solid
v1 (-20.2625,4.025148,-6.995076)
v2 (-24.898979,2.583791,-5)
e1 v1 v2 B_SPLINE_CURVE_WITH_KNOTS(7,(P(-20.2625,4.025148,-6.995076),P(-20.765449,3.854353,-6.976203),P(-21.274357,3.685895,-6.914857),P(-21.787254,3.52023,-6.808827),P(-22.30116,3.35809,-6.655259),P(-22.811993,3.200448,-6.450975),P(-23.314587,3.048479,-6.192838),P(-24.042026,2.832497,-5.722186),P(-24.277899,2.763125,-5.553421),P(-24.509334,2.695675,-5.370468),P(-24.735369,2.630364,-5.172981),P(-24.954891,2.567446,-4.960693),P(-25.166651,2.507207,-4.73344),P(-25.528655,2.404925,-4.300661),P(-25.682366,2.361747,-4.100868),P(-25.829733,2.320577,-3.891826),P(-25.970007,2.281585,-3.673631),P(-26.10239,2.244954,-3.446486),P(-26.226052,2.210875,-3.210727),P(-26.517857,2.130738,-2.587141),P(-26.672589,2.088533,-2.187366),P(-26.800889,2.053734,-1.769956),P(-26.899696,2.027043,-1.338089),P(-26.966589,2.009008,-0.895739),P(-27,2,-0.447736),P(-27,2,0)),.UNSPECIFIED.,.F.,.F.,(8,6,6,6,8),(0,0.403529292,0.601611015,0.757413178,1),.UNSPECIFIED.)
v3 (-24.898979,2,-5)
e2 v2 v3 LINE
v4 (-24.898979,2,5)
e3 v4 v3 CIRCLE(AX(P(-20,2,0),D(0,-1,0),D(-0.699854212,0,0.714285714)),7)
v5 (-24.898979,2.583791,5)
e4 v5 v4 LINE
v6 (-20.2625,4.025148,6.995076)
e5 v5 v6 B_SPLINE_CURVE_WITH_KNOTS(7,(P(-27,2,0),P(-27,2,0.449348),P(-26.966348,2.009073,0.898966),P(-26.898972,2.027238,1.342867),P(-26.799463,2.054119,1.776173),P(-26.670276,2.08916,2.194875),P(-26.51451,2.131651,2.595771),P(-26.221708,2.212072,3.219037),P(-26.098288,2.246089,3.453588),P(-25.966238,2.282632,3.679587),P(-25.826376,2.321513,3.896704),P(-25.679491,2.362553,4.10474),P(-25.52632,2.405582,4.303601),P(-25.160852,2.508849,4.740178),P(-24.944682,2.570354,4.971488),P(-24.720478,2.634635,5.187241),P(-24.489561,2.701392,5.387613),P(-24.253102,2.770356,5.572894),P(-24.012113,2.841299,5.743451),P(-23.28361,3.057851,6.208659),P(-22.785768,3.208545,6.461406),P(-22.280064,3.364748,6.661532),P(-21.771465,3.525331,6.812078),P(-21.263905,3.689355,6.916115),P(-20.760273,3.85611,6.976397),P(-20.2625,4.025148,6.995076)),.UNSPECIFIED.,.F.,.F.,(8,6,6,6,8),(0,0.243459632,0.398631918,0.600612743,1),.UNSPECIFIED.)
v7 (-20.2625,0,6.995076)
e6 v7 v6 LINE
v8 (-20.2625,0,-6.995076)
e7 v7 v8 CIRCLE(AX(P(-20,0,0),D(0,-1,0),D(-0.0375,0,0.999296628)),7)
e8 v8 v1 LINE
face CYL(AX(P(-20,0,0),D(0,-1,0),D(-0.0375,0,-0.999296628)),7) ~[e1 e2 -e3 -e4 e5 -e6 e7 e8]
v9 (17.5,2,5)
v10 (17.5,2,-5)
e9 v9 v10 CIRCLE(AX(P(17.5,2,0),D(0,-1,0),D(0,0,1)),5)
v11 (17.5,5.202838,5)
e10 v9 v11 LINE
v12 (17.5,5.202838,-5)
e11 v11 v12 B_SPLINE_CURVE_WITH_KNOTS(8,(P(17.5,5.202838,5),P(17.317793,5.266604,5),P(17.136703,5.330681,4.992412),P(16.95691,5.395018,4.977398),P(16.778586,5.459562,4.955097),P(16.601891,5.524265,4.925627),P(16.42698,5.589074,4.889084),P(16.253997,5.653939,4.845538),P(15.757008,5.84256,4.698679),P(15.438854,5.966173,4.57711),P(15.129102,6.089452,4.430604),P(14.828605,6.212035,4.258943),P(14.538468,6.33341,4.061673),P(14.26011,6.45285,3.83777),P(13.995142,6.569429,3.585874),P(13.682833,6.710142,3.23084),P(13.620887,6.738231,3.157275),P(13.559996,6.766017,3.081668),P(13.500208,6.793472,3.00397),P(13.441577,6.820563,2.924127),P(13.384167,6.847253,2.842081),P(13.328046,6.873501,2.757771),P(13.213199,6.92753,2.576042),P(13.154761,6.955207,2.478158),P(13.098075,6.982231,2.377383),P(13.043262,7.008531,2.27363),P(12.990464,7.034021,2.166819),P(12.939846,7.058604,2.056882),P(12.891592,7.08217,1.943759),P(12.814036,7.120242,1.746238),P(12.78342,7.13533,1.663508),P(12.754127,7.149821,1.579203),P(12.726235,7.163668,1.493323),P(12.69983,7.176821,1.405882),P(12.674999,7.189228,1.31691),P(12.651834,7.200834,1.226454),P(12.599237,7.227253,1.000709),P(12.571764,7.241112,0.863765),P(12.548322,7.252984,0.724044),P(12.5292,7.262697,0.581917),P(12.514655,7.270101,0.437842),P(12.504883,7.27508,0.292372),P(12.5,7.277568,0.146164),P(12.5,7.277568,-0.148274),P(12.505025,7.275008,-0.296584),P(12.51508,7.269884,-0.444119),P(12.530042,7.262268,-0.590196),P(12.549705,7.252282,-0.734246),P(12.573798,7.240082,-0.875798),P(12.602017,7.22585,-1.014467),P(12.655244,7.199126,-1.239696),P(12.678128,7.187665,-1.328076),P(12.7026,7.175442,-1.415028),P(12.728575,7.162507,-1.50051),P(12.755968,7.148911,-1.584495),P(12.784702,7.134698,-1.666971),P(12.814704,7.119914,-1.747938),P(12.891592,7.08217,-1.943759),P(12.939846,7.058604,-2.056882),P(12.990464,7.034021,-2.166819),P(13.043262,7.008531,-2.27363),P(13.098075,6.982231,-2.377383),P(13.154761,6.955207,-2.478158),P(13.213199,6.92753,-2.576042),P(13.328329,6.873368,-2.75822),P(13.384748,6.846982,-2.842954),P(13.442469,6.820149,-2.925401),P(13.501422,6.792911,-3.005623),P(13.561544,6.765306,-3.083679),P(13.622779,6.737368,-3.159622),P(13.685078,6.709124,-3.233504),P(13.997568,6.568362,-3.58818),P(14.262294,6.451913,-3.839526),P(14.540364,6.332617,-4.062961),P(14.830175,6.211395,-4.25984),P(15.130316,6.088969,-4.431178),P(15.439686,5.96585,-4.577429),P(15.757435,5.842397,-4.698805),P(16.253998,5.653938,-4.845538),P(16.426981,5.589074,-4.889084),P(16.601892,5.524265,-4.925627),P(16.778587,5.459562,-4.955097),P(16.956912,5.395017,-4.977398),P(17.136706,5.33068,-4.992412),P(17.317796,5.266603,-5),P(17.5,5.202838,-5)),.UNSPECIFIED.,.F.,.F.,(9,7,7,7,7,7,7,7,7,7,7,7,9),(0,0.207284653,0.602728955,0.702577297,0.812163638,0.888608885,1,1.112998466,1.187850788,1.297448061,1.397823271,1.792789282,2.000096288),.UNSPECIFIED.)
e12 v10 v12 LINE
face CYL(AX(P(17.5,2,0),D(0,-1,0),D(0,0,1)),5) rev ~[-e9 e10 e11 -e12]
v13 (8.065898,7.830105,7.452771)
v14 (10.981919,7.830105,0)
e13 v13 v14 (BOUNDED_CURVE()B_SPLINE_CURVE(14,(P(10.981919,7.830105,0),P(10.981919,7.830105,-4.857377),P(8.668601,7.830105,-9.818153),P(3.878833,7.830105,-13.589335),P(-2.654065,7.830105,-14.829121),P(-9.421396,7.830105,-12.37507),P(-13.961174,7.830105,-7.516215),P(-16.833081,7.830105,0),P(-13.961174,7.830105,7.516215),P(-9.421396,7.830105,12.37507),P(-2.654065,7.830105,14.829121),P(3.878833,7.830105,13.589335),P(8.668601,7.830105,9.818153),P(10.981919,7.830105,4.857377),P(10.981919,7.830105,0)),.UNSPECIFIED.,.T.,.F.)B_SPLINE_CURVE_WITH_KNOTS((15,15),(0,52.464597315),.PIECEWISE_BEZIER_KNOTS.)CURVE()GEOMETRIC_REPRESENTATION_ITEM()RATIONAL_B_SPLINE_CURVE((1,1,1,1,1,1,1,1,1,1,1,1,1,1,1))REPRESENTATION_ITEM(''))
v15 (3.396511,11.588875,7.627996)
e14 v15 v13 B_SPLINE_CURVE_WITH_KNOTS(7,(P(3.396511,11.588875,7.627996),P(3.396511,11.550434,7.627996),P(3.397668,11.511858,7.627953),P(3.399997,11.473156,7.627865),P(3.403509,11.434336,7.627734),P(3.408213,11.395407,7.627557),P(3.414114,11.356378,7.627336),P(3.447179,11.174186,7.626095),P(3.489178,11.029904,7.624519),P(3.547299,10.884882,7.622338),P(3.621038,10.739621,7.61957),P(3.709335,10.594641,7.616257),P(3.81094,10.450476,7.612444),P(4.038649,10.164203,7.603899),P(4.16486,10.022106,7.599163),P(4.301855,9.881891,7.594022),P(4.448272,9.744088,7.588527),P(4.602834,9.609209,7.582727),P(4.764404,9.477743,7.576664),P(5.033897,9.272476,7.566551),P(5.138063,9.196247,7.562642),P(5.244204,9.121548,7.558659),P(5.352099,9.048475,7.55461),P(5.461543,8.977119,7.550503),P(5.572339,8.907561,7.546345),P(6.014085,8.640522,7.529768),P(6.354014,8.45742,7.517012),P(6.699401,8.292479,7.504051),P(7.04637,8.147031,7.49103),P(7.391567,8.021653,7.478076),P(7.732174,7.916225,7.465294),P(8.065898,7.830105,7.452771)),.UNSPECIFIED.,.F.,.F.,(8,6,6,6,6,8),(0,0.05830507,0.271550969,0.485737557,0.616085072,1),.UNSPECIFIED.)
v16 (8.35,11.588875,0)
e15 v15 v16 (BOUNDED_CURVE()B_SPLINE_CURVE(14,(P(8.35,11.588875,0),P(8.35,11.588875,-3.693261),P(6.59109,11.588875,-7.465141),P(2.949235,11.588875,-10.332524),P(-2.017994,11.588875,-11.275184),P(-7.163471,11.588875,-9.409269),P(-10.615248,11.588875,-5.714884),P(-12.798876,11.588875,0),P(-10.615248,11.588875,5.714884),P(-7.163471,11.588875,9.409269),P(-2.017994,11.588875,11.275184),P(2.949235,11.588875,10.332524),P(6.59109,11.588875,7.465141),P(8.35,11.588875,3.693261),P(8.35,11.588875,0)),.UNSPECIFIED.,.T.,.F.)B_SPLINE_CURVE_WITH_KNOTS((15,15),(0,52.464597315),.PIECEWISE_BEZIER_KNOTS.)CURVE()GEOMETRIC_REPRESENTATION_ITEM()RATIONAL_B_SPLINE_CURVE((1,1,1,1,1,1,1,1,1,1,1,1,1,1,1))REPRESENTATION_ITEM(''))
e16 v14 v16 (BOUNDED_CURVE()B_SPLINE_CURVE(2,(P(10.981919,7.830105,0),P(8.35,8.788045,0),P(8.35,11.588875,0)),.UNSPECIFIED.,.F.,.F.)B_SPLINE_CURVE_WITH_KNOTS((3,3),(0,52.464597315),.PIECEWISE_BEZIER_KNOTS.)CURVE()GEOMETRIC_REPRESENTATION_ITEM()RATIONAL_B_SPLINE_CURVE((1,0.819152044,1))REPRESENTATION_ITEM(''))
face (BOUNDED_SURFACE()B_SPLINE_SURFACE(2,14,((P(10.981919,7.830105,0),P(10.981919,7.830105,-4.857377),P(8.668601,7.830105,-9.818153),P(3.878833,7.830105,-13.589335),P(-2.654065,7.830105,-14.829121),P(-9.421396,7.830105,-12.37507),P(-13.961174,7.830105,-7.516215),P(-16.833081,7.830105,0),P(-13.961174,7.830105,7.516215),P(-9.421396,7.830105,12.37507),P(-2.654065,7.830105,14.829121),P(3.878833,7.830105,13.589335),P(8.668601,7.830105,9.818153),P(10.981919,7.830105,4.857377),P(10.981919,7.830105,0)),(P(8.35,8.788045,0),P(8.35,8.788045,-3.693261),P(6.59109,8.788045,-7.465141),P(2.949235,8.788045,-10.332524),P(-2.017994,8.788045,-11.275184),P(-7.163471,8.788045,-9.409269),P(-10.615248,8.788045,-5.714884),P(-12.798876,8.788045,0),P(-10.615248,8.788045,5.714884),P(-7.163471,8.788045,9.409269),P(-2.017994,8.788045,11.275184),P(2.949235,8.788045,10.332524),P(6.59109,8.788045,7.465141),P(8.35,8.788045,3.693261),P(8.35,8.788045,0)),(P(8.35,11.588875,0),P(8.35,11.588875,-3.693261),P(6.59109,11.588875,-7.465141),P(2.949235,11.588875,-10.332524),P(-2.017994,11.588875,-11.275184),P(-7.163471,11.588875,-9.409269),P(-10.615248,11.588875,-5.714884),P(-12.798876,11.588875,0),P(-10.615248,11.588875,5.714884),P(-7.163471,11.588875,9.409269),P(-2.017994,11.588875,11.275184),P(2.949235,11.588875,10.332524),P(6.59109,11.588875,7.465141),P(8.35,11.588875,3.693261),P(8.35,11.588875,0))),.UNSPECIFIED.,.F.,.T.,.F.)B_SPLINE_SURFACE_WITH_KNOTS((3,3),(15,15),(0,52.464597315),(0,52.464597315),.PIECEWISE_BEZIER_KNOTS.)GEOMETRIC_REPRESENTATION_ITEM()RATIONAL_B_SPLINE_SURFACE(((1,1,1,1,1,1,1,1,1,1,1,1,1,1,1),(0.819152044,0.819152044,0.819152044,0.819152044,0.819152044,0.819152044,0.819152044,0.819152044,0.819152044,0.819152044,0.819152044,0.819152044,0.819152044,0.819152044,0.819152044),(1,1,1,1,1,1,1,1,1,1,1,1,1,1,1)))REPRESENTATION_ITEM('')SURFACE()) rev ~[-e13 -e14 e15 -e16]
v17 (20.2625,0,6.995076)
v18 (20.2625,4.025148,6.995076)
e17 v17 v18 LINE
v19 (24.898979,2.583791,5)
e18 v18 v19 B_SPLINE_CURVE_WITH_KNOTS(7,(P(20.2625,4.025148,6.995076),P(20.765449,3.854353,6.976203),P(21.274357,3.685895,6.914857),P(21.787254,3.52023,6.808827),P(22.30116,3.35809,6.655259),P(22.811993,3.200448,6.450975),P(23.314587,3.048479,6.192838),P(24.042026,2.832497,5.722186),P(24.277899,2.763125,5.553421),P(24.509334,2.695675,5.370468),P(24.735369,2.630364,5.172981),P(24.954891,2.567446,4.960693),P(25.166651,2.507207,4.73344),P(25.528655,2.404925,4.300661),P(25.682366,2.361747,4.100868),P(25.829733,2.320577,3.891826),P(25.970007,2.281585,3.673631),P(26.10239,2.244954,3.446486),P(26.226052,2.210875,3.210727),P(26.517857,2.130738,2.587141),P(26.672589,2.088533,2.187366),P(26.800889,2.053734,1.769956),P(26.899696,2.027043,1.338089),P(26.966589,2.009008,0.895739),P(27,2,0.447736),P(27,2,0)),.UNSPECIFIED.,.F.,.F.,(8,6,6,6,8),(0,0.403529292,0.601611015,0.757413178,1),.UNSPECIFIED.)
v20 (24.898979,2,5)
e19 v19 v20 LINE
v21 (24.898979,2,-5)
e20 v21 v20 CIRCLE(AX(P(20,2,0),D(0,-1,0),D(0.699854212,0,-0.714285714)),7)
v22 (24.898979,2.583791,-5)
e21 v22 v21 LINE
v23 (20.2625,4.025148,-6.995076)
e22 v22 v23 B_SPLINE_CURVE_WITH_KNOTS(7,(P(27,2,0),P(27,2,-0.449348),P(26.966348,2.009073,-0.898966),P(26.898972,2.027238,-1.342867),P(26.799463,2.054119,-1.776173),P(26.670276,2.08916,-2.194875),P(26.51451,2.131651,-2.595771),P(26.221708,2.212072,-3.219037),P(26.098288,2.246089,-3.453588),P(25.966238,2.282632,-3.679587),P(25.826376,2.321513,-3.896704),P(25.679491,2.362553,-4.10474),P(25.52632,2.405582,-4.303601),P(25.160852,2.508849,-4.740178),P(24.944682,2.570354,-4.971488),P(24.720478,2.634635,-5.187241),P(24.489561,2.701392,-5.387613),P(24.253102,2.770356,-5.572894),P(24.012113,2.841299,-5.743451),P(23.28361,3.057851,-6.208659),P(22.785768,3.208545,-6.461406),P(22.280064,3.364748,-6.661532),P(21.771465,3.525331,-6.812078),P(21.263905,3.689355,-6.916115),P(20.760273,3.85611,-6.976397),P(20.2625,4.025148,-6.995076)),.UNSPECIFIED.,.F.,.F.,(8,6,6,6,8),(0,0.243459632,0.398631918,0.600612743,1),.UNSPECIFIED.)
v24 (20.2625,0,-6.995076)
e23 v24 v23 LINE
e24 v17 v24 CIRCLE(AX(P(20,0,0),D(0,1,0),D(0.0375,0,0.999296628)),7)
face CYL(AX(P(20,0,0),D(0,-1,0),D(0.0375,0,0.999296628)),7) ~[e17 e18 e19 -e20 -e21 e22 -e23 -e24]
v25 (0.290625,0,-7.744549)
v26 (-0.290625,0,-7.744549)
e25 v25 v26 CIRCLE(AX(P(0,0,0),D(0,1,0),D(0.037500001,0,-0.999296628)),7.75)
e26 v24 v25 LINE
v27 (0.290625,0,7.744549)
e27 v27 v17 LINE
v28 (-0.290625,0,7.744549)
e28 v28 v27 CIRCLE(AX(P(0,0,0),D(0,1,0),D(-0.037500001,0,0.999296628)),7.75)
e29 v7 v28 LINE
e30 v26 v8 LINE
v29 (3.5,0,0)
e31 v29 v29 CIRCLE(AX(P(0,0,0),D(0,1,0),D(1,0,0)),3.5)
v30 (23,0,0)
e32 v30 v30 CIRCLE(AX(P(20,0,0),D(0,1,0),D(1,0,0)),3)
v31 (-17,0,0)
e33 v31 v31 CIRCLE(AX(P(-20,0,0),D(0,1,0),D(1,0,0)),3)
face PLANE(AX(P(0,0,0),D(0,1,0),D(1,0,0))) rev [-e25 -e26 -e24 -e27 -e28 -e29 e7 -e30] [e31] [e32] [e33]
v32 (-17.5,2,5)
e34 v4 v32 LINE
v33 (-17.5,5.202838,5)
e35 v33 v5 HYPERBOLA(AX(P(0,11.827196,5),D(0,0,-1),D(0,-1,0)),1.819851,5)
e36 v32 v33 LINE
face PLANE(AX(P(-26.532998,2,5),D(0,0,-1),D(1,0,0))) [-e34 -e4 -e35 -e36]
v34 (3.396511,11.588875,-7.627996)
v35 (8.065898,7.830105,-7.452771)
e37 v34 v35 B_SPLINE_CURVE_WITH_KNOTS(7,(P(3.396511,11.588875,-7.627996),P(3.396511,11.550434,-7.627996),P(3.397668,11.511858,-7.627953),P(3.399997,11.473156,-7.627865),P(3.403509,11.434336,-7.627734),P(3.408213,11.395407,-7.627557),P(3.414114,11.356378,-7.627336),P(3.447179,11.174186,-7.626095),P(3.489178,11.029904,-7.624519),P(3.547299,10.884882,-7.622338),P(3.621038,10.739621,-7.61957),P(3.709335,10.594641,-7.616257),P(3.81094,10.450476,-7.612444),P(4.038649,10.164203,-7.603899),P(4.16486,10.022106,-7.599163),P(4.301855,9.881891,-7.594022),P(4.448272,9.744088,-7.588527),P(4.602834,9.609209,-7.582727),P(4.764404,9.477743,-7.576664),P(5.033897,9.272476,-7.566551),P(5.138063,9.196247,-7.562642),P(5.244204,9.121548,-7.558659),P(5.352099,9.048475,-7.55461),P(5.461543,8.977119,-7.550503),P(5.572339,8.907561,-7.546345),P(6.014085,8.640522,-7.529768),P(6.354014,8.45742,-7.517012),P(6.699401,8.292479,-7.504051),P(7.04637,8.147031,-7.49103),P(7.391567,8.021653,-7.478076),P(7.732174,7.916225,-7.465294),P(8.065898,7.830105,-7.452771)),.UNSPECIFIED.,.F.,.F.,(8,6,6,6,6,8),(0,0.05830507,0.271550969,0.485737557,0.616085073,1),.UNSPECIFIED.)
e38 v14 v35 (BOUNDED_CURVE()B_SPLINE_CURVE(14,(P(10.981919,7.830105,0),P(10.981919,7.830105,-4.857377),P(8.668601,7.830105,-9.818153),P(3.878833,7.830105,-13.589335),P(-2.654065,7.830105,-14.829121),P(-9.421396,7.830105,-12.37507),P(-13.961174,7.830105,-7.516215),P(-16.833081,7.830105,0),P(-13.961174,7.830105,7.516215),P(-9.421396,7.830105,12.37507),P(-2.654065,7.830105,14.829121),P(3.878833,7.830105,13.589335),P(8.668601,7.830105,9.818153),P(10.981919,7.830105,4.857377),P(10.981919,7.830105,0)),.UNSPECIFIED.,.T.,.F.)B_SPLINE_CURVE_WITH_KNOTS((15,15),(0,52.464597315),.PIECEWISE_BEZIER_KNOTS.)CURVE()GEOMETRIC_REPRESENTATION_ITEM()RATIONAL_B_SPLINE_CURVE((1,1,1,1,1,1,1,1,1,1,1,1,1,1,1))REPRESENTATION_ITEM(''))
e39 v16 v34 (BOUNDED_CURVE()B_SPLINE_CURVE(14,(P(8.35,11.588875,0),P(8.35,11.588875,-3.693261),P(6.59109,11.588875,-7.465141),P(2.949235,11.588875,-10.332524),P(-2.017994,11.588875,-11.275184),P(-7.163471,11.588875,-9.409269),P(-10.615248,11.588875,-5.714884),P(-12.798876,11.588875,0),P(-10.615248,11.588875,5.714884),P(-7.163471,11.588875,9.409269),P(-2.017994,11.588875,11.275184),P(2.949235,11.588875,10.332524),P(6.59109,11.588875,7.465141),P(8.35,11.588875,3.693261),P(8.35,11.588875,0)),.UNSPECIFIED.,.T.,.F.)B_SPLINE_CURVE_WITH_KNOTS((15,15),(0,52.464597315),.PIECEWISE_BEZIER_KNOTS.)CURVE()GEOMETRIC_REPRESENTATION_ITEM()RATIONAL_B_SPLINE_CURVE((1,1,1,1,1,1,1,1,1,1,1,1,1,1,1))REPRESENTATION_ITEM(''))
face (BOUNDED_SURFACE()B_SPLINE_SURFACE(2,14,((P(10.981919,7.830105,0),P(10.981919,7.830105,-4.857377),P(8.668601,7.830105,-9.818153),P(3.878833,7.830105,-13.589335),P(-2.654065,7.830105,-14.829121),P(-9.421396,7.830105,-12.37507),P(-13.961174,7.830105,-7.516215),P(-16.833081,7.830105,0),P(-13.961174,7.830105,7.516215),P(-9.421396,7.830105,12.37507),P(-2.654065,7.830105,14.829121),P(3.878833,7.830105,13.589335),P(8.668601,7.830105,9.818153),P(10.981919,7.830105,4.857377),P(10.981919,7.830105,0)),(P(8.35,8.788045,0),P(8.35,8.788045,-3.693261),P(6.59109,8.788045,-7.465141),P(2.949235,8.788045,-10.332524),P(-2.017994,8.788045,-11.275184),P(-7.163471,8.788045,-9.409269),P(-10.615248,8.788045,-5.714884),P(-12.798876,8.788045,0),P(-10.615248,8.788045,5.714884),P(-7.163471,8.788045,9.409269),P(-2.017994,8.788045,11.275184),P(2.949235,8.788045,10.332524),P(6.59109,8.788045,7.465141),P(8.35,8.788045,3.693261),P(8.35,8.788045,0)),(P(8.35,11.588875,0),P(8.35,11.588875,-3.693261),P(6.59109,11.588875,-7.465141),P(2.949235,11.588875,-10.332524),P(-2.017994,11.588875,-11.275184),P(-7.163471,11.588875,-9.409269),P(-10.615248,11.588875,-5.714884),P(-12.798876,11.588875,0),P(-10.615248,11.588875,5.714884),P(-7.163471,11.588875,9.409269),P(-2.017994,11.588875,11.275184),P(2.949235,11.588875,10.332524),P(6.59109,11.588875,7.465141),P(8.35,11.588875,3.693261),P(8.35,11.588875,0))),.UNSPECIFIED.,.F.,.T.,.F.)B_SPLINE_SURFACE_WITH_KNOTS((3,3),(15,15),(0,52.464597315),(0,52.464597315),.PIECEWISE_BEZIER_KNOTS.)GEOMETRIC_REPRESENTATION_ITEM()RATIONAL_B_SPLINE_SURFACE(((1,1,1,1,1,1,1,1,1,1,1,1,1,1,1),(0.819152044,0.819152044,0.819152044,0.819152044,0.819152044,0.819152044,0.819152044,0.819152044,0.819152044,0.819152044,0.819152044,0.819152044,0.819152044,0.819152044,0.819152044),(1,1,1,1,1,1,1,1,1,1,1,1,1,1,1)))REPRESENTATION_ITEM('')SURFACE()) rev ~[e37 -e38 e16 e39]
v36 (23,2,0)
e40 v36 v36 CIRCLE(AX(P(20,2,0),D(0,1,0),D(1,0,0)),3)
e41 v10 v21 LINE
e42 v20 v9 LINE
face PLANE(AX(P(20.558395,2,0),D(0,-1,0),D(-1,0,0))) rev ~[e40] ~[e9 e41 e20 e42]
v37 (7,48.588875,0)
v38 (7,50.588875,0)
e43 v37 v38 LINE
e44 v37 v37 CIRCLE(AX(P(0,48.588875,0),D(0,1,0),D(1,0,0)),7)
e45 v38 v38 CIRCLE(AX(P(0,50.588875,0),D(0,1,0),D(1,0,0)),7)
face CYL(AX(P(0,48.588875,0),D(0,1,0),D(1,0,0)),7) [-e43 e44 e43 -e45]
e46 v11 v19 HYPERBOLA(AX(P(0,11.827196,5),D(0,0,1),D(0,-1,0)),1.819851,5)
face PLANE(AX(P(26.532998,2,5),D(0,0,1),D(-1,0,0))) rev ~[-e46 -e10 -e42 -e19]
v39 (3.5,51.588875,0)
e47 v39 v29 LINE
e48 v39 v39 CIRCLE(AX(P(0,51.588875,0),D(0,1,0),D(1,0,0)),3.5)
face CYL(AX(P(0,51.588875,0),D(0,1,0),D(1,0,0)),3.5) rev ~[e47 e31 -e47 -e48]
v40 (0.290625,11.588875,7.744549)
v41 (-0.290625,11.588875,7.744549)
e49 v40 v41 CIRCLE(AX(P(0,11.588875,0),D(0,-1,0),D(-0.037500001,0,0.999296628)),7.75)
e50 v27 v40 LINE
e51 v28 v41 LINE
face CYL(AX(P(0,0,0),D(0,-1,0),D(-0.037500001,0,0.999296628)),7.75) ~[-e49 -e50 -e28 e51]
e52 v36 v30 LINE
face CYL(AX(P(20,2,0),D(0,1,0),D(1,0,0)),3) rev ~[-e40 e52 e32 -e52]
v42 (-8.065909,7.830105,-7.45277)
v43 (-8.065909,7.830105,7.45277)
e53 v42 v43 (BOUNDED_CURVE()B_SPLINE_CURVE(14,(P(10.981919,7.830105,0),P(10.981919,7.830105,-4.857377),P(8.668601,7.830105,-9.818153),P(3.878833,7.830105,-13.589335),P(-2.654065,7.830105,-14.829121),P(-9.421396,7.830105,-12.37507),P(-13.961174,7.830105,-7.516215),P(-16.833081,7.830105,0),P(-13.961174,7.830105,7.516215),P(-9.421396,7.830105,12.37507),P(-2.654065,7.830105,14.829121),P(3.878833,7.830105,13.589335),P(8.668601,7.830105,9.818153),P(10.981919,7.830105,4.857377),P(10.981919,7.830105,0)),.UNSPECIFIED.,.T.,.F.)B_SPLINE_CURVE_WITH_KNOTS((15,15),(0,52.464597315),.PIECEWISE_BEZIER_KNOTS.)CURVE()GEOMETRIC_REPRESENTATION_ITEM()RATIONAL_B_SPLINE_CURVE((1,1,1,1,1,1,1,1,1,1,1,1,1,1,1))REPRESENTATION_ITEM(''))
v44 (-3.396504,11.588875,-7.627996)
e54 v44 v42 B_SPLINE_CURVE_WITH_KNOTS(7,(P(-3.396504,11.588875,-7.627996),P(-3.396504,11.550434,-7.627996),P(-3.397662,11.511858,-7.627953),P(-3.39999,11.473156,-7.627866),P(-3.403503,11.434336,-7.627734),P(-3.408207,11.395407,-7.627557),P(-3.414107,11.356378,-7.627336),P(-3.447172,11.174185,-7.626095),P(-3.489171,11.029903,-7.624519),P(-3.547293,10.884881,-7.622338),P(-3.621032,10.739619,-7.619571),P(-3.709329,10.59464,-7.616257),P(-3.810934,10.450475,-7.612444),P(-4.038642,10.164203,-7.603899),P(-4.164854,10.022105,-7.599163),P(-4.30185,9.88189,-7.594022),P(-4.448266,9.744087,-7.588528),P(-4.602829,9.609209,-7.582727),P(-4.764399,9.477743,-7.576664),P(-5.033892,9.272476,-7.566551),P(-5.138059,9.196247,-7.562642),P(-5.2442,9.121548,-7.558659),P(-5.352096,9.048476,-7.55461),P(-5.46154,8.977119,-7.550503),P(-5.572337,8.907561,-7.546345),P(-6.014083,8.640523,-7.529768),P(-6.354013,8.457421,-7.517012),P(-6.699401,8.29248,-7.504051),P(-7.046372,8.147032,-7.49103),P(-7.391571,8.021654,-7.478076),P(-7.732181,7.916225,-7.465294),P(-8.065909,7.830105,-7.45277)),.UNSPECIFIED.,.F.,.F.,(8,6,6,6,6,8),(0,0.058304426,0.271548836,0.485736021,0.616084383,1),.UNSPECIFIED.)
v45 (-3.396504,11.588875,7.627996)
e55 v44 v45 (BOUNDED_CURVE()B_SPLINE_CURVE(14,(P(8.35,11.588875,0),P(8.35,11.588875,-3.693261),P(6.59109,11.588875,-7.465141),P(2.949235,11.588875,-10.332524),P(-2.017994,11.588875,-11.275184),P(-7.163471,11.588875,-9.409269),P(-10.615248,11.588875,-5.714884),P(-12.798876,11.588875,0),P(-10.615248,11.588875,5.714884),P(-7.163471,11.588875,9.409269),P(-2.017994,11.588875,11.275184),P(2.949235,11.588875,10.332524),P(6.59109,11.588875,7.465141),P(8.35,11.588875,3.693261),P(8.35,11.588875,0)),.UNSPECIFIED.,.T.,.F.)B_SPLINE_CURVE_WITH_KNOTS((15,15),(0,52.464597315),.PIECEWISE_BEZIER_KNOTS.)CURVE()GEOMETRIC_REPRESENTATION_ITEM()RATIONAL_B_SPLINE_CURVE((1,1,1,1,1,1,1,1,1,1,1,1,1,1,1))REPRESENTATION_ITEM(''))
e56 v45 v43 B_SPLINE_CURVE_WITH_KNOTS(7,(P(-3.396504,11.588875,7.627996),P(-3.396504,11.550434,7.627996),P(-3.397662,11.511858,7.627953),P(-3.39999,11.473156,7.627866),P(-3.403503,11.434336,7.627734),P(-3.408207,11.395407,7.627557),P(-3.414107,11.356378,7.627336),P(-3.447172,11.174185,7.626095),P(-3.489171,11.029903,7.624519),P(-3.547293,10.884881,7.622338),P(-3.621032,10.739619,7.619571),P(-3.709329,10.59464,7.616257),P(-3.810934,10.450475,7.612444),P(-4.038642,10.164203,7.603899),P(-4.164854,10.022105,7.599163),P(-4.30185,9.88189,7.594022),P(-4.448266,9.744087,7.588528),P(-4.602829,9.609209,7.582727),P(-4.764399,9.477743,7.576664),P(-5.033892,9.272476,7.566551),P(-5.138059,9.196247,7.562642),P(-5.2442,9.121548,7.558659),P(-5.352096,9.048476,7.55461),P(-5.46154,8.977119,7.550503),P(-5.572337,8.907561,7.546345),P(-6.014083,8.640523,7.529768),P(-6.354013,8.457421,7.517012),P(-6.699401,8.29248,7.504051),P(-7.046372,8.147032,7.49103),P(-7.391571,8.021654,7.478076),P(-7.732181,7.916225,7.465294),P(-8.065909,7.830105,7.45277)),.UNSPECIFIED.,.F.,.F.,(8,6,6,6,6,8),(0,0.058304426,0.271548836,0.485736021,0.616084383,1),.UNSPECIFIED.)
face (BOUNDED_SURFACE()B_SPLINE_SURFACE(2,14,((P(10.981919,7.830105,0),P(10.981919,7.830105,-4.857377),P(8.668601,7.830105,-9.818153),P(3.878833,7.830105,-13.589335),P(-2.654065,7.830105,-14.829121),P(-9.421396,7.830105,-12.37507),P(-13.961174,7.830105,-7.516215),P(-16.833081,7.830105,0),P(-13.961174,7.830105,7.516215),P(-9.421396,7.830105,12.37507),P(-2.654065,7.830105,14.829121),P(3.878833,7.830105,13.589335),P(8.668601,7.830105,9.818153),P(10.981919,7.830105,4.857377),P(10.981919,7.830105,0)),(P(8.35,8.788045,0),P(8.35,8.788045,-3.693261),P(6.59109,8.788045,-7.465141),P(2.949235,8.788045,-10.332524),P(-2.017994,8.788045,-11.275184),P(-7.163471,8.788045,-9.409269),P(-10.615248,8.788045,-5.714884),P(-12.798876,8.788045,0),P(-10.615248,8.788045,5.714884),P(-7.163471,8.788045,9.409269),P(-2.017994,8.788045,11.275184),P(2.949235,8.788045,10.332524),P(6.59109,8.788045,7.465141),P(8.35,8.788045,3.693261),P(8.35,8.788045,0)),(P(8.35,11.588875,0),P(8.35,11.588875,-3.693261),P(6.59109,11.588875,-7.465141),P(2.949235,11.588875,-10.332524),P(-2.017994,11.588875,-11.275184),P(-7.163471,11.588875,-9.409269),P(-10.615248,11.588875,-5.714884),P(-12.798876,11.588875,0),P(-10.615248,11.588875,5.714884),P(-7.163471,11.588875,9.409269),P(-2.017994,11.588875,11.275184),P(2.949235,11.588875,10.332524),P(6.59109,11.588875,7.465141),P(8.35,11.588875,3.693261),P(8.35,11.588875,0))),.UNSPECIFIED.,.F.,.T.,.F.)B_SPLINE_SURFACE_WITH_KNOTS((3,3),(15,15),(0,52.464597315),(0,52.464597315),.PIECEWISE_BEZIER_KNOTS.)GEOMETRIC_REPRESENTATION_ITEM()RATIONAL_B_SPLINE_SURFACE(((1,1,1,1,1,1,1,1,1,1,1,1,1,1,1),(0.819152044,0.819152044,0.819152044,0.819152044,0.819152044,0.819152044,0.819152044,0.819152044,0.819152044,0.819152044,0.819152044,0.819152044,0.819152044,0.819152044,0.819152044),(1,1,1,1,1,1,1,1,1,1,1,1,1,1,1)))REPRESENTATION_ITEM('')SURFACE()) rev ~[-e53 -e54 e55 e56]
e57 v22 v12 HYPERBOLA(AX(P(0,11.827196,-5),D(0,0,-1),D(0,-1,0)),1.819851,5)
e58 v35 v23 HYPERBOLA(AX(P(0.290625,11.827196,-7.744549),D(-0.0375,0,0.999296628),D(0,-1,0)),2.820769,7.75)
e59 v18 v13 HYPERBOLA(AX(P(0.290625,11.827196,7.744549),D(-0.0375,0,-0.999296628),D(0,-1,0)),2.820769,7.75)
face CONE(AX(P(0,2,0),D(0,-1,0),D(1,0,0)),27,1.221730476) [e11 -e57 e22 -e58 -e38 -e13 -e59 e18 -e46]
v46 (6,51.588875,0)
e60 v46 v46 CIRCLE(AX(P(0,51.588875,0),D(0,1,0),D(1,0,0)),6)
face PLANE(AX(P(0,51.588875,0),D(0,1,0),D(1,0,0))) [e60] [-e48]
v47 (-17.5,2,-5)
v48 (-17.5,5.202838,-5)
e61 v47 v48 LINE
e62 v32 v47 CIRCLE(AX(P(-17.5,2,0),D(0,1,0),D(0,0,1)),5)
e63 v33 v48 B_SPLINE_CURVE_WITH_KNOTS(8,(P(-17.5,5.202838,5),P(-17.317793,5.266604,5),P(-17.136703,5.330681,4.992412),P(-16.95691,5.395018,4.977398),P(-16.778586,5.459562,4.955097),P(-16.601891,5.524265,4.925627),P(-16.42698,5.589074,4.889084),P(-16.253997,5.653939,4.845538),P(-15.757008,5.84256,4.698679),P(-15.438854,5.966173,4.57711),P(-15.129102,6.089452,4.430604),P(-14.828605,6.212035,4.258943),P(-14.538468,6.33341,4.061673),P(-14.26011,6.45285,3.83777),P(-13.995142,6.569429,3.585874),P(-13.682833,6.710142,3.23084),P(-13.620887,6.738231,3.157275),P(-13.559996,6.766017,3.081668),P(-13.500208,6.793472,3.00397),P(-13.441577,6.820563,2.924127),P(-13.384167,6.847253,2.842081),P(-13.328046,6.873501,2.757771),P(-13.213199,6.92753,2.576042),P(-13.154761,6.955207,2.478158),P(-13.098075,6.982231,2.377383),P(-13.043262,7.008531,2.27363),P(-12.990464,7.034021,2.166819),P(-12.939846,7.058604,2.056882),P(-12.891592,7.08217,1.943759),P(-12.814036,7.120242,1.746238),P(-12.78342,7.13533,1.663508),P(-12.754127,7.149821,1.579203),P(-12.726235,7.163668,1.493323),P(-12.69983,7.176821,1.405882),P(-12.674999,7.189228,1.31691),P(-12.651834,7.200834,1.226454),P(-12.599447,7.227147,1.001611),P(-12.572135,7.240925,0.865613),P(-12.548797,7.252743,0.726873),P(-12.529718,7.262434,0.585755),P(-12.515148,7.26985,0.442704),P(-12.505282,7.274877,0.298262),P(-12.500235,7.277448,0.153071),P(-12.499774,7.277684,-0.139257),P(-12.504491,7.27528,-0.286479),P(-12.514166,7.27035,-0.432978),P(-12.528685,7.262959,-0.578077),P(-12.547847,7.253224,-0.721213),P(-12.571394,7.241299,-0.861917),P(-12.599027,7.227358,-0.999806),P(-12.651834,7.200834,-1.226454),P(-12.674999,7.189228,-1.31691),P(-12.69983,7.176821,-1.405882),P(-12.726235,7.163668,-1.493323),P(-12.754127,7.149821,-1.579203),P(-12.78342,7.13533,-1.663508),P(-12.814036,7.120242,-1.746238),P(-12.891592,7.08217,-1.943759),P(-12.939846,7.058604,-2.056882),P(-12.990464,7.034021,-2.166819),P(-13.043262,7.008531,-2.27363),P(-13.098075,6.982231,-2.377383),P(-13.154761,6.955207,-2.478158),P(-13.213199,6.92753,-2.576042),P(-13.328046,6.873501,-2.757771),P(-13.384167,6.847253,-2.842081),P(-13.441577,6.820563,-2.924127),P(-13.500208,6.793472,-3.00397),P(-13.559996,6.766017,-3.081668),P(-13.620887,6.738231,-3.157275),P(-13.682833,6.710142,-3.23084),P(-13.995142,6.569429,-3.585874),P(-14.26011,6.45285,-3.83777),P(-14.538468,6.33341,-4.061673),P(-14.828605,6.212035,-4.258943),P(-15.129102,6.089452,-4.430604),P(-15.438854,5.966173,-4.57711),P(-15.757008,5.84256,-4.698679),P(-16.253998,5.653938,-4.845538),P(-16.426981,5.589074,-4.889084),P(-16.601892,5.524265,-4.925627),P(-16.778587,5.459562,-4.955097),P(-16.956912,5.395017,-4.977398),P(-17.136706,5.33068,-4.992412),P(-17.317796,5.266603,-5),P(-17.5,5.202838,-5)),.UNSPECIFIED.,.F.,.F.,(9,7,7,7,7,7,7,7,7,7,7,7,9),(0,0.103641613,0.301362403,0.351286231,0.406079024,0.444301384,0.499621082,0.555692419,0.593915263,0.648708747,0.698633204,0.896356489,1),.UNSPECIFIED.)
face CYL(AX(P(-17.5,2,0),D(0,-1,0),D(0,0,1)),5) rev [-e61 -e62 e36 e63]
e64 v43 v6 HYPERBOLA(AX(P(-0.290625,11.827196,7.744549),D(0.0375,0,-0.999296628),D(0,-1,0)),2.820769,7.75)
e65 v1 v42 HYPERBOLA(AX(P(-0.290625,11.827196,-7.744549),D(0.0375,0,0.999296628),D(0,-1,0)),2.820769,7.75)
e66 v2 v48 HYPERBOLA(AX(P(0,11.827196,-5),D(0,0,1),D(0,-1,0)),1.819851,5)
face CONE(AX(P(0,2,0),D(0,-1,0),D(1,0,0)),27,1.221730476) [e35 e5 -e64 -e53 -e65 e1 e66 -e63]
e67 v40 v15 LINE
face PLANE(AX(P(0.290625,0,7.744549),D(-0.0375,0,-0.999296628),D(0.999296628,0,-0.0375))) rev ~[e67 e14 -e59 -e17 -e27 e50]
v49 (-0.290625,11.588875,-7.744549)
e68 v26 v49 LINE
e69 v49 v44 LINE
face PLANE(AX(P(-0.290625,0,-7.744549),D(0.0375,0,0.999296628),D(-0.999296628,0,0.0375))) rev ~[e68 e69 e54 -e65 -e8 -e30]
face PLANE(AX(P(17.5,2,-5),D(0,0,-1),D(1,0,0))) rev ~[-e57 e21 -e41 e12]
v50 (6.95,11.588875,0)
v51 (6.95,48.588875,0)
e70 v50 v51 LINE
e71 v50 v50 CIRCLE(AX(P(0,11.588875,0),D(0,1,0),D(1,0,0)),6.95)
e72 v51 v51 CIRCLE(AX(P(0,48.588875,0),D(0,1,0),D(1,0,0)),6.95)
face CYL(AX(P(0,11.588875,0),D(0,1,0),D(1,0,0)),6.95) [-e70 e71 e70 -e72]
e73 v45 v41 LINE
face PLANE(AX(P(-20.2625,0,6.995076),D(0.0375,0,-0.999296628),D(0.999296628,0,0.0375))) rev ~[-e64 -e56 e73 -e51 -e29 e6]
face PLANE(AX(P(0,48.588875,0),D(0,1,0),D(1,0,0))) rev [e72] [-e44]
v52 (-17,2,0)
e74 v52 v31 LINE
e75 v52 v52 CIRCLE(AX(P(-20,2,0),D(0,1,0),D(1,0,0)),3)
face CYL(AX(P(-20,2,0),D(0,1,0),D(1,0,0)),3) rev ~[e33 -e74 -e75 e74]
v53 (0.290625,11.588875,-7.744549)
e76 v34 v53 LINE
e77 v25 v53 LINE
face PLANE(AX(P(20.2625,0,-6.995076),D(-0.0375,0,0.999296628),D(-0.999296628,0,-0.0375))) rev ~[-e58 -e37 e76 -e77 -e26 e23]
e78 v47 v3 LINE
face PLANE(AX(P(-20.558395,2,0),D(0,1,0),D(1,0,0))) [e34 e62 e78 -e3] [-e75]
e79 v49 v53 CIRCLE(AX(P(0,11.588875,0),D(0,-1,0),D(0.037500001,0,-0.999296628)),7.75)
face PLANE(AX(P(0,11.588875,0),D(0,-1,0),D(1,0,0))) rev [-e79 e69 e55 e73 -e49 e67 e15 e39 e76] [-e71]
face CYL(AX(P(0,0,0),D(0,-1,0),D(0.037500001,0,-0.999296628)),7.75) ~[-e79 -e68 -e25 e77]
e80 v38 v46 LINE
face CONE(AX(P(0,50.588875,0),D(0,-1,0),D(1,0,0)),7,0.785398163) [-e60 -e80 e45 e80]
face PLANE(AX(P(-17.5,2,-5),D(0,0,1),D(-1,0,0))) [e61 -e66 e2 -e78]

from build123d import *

# Parameters (mm, degrees)
SZKIC1_W                        = 27
SZKIC1_H                        = 25
ZAOKR_GLENIE1_R                 = 4
SZKIC4_R                        = 3
WYTNIJ_WYCI_GNI_CIE3_DEPTH      = 24.0000001
WYTNIJ_WYCI_GNI_CIE3_DEPTH_BACK = 3
WYTNIJ_WYCI_GNI_CIE2_DEPTH      = 24.0000001
SZKIC5_OUTSIDE_W                = 72.072
SZKIC5_OUTSIDE_H                = 72.072
WYTNIJ_WYCI_GNI_CIE4_DEPTH      = 26.0000001
SZKIC8_W                        = 8.35
SZKIC8_H                        = 13.411124978
SZKIC10_R                       = 3.5
WYTNIJ_WYCI_GNI_CIE5_DEPTH      = 52.588875122


with BuildPart() as part:
    # Szkic1 → Obrót1 (revolve)
    with BuildSketch(Plane.XY):
        with Locations((13.5, 12.5)):
            Rectangle(SZKIC1_W, SZKIC1_H)
    revolve(axis=Axis((0, 0, 0), (0, 1, 0)))

    # Szkic2 → Wycięcie-obrót1 (revolve, cut)
    with BuildSketch(Plane.XY):
        Polygon((27, 25), (27, 2), (8.35, 8.788044869), (8.35, 25), align=None)
    revolve(axis=Axis((0, 0, 0), (0, 1, 0)), mode=Mode.SUBTRACT)

    # Zaokrąglenie1
    zaokr_glenie1_edges = [part.edges().sort_by_distance(p)[0] for p in [
        (-8.35, 8.788044869, 0),
    ]]
    fillet(zaokr_glenie1_edges, radius=ZAOKR_GLENIE1_R)

    # Szkic4 → Wytnij-wyciągnięcie3 (cut, two sides)
    with BuildSketch(Plane(origin=(0, 2, 0), x_dir=(1, 0, 0), z_dir=(0, 1, 0))) as wytnij_wyci_gni_cie3_sk:
        with Locations((-20, 0)):
            Circle(SZKIC4_R)
        with Locations((20, 0)):
            Circle(SZKIC4_R)
    extrude(amount=WYTNIJ_WYCI_GNI_CIE3_DEPTH, mode=Mode.SUBTRACT)
    extrude(wytnij_wyci_gni_cie3_sk.sketch, amount=-WYTNIJ_WYCI_GNI_CIE3_DEPTH_BACK, mode=Mode.SUBTRACT)

    # Szkic3 → Wytnij-wyciągnięcie2 (cut, through all)
    with BuildSketch(Plane(origin=(0, 2, 0), x_dir=(1, 0, 0), z_dir=(0, 1, 0))):
        with BuildLine():
            Line((-17.5, 5), (-26.532998323, 5))
            ThreePointArc((-26.532998323, 5), (-27, 0), (-26.532998323, -5))
            Line((-26.532998323, -5), (-17.5, -5))
            ThreePointArc((-17.5, -5), (-12.5, 0), (-17.5, 5))
        make_face()
        with BuildLine():
            Line((17.5, 5), (26.532998323, 5))
            ThreePointArc((26.532998323, 5), (27, 0), (26.532998323, -5))
            Line((26.532998323, -5), (17.5, -5))
            ThreePointArc((17.5, -5), (12.5, 0), (17.5, 5))
        make_face()
    extrude(amount=WYTNIJ_WYCI_GNI_CIE2_DEPTH, mode=Mode.SUBTRACT)

    # Szkic5 outside → Wytnij-wyciągnięcie4 (cut, through all)
    with BuildSketch(Plane.XZ):
        Rectangle(SZKIC5_OUTSIDE_W, SZKIC5_OUTSIDE_H)
        with BuildLine():
            Line((-20.2625, 6.995076393), (-0.290625, 7.744548864))
            ThreePointArc((-0.290625, 7.744548864), (0, 7.75), (0.290625, 7.744548864))
            Line((0.290625, 7.744548864), (20.2625, 6.995076393))
            ThreePointArc((20.2625, 6.995076393), (27, 0), (20.2625, -6.995076393))
            Line((20.2625, -6.995076393), (0.290625, -7.744548864))
            ThreePointArc((0.290625, -7.744548864), (0, -7.75), (-0.290625, -7.744548864))
            Line((-0.290625, -7.744548864), (-20.2625, -6.995076393))
            ThreePointArc((-20.2625, -6.995076393), (-27, 0), (-20.2625, 6.995076393))
        make_face(mode=Mode.SUBTRACT)
    extrude(amount=-WYTNIJ_WYCI_GNI_CIE4_DEPTH, mode=Mode.SUBTRACT)

    # Szkic8 → Wycięcie-obrót2 (revolve, cut)
    with BuildSketch(Plane.XY):
        with Locations((4.175, 18.294437511)):
            Rectangle(SZKIC8_W, SZKIC8_H)
    revolve(axis=Axis((0, 25, 0), (0, -1, 0)), mode=Mode.SUBTRACT)

    # Szkic9 → Obrót2 (revolve)
    with BuildSketch(Plane.XY):
        Polygon((6, 51.588875022), (0, 51.588875022), (0, 11.588875022), (6.95, 11.588875022), (6.95, 48.588875022), (7, 48.588875022), (7, 50.588875022), align=None)
    revolve(axis=Axis((0, 11.588875022, 0), (0, 1, 0)))

    # Szkic10 → Wytnij-wyciągnięcie5 (cut, through all)
    with BuildSketch(Plane(origin=(0, 51.588875022, 0), x_dir=(1, 0, 0), z_dir=(0, 1, 0))):
        Circle(SZKIC10_R)
    extrude(amount=-WYTNIJ_WYCI_GNI_CIE5_DEPTH, mode=Mode.SUBTRACT)


solid = part.part
